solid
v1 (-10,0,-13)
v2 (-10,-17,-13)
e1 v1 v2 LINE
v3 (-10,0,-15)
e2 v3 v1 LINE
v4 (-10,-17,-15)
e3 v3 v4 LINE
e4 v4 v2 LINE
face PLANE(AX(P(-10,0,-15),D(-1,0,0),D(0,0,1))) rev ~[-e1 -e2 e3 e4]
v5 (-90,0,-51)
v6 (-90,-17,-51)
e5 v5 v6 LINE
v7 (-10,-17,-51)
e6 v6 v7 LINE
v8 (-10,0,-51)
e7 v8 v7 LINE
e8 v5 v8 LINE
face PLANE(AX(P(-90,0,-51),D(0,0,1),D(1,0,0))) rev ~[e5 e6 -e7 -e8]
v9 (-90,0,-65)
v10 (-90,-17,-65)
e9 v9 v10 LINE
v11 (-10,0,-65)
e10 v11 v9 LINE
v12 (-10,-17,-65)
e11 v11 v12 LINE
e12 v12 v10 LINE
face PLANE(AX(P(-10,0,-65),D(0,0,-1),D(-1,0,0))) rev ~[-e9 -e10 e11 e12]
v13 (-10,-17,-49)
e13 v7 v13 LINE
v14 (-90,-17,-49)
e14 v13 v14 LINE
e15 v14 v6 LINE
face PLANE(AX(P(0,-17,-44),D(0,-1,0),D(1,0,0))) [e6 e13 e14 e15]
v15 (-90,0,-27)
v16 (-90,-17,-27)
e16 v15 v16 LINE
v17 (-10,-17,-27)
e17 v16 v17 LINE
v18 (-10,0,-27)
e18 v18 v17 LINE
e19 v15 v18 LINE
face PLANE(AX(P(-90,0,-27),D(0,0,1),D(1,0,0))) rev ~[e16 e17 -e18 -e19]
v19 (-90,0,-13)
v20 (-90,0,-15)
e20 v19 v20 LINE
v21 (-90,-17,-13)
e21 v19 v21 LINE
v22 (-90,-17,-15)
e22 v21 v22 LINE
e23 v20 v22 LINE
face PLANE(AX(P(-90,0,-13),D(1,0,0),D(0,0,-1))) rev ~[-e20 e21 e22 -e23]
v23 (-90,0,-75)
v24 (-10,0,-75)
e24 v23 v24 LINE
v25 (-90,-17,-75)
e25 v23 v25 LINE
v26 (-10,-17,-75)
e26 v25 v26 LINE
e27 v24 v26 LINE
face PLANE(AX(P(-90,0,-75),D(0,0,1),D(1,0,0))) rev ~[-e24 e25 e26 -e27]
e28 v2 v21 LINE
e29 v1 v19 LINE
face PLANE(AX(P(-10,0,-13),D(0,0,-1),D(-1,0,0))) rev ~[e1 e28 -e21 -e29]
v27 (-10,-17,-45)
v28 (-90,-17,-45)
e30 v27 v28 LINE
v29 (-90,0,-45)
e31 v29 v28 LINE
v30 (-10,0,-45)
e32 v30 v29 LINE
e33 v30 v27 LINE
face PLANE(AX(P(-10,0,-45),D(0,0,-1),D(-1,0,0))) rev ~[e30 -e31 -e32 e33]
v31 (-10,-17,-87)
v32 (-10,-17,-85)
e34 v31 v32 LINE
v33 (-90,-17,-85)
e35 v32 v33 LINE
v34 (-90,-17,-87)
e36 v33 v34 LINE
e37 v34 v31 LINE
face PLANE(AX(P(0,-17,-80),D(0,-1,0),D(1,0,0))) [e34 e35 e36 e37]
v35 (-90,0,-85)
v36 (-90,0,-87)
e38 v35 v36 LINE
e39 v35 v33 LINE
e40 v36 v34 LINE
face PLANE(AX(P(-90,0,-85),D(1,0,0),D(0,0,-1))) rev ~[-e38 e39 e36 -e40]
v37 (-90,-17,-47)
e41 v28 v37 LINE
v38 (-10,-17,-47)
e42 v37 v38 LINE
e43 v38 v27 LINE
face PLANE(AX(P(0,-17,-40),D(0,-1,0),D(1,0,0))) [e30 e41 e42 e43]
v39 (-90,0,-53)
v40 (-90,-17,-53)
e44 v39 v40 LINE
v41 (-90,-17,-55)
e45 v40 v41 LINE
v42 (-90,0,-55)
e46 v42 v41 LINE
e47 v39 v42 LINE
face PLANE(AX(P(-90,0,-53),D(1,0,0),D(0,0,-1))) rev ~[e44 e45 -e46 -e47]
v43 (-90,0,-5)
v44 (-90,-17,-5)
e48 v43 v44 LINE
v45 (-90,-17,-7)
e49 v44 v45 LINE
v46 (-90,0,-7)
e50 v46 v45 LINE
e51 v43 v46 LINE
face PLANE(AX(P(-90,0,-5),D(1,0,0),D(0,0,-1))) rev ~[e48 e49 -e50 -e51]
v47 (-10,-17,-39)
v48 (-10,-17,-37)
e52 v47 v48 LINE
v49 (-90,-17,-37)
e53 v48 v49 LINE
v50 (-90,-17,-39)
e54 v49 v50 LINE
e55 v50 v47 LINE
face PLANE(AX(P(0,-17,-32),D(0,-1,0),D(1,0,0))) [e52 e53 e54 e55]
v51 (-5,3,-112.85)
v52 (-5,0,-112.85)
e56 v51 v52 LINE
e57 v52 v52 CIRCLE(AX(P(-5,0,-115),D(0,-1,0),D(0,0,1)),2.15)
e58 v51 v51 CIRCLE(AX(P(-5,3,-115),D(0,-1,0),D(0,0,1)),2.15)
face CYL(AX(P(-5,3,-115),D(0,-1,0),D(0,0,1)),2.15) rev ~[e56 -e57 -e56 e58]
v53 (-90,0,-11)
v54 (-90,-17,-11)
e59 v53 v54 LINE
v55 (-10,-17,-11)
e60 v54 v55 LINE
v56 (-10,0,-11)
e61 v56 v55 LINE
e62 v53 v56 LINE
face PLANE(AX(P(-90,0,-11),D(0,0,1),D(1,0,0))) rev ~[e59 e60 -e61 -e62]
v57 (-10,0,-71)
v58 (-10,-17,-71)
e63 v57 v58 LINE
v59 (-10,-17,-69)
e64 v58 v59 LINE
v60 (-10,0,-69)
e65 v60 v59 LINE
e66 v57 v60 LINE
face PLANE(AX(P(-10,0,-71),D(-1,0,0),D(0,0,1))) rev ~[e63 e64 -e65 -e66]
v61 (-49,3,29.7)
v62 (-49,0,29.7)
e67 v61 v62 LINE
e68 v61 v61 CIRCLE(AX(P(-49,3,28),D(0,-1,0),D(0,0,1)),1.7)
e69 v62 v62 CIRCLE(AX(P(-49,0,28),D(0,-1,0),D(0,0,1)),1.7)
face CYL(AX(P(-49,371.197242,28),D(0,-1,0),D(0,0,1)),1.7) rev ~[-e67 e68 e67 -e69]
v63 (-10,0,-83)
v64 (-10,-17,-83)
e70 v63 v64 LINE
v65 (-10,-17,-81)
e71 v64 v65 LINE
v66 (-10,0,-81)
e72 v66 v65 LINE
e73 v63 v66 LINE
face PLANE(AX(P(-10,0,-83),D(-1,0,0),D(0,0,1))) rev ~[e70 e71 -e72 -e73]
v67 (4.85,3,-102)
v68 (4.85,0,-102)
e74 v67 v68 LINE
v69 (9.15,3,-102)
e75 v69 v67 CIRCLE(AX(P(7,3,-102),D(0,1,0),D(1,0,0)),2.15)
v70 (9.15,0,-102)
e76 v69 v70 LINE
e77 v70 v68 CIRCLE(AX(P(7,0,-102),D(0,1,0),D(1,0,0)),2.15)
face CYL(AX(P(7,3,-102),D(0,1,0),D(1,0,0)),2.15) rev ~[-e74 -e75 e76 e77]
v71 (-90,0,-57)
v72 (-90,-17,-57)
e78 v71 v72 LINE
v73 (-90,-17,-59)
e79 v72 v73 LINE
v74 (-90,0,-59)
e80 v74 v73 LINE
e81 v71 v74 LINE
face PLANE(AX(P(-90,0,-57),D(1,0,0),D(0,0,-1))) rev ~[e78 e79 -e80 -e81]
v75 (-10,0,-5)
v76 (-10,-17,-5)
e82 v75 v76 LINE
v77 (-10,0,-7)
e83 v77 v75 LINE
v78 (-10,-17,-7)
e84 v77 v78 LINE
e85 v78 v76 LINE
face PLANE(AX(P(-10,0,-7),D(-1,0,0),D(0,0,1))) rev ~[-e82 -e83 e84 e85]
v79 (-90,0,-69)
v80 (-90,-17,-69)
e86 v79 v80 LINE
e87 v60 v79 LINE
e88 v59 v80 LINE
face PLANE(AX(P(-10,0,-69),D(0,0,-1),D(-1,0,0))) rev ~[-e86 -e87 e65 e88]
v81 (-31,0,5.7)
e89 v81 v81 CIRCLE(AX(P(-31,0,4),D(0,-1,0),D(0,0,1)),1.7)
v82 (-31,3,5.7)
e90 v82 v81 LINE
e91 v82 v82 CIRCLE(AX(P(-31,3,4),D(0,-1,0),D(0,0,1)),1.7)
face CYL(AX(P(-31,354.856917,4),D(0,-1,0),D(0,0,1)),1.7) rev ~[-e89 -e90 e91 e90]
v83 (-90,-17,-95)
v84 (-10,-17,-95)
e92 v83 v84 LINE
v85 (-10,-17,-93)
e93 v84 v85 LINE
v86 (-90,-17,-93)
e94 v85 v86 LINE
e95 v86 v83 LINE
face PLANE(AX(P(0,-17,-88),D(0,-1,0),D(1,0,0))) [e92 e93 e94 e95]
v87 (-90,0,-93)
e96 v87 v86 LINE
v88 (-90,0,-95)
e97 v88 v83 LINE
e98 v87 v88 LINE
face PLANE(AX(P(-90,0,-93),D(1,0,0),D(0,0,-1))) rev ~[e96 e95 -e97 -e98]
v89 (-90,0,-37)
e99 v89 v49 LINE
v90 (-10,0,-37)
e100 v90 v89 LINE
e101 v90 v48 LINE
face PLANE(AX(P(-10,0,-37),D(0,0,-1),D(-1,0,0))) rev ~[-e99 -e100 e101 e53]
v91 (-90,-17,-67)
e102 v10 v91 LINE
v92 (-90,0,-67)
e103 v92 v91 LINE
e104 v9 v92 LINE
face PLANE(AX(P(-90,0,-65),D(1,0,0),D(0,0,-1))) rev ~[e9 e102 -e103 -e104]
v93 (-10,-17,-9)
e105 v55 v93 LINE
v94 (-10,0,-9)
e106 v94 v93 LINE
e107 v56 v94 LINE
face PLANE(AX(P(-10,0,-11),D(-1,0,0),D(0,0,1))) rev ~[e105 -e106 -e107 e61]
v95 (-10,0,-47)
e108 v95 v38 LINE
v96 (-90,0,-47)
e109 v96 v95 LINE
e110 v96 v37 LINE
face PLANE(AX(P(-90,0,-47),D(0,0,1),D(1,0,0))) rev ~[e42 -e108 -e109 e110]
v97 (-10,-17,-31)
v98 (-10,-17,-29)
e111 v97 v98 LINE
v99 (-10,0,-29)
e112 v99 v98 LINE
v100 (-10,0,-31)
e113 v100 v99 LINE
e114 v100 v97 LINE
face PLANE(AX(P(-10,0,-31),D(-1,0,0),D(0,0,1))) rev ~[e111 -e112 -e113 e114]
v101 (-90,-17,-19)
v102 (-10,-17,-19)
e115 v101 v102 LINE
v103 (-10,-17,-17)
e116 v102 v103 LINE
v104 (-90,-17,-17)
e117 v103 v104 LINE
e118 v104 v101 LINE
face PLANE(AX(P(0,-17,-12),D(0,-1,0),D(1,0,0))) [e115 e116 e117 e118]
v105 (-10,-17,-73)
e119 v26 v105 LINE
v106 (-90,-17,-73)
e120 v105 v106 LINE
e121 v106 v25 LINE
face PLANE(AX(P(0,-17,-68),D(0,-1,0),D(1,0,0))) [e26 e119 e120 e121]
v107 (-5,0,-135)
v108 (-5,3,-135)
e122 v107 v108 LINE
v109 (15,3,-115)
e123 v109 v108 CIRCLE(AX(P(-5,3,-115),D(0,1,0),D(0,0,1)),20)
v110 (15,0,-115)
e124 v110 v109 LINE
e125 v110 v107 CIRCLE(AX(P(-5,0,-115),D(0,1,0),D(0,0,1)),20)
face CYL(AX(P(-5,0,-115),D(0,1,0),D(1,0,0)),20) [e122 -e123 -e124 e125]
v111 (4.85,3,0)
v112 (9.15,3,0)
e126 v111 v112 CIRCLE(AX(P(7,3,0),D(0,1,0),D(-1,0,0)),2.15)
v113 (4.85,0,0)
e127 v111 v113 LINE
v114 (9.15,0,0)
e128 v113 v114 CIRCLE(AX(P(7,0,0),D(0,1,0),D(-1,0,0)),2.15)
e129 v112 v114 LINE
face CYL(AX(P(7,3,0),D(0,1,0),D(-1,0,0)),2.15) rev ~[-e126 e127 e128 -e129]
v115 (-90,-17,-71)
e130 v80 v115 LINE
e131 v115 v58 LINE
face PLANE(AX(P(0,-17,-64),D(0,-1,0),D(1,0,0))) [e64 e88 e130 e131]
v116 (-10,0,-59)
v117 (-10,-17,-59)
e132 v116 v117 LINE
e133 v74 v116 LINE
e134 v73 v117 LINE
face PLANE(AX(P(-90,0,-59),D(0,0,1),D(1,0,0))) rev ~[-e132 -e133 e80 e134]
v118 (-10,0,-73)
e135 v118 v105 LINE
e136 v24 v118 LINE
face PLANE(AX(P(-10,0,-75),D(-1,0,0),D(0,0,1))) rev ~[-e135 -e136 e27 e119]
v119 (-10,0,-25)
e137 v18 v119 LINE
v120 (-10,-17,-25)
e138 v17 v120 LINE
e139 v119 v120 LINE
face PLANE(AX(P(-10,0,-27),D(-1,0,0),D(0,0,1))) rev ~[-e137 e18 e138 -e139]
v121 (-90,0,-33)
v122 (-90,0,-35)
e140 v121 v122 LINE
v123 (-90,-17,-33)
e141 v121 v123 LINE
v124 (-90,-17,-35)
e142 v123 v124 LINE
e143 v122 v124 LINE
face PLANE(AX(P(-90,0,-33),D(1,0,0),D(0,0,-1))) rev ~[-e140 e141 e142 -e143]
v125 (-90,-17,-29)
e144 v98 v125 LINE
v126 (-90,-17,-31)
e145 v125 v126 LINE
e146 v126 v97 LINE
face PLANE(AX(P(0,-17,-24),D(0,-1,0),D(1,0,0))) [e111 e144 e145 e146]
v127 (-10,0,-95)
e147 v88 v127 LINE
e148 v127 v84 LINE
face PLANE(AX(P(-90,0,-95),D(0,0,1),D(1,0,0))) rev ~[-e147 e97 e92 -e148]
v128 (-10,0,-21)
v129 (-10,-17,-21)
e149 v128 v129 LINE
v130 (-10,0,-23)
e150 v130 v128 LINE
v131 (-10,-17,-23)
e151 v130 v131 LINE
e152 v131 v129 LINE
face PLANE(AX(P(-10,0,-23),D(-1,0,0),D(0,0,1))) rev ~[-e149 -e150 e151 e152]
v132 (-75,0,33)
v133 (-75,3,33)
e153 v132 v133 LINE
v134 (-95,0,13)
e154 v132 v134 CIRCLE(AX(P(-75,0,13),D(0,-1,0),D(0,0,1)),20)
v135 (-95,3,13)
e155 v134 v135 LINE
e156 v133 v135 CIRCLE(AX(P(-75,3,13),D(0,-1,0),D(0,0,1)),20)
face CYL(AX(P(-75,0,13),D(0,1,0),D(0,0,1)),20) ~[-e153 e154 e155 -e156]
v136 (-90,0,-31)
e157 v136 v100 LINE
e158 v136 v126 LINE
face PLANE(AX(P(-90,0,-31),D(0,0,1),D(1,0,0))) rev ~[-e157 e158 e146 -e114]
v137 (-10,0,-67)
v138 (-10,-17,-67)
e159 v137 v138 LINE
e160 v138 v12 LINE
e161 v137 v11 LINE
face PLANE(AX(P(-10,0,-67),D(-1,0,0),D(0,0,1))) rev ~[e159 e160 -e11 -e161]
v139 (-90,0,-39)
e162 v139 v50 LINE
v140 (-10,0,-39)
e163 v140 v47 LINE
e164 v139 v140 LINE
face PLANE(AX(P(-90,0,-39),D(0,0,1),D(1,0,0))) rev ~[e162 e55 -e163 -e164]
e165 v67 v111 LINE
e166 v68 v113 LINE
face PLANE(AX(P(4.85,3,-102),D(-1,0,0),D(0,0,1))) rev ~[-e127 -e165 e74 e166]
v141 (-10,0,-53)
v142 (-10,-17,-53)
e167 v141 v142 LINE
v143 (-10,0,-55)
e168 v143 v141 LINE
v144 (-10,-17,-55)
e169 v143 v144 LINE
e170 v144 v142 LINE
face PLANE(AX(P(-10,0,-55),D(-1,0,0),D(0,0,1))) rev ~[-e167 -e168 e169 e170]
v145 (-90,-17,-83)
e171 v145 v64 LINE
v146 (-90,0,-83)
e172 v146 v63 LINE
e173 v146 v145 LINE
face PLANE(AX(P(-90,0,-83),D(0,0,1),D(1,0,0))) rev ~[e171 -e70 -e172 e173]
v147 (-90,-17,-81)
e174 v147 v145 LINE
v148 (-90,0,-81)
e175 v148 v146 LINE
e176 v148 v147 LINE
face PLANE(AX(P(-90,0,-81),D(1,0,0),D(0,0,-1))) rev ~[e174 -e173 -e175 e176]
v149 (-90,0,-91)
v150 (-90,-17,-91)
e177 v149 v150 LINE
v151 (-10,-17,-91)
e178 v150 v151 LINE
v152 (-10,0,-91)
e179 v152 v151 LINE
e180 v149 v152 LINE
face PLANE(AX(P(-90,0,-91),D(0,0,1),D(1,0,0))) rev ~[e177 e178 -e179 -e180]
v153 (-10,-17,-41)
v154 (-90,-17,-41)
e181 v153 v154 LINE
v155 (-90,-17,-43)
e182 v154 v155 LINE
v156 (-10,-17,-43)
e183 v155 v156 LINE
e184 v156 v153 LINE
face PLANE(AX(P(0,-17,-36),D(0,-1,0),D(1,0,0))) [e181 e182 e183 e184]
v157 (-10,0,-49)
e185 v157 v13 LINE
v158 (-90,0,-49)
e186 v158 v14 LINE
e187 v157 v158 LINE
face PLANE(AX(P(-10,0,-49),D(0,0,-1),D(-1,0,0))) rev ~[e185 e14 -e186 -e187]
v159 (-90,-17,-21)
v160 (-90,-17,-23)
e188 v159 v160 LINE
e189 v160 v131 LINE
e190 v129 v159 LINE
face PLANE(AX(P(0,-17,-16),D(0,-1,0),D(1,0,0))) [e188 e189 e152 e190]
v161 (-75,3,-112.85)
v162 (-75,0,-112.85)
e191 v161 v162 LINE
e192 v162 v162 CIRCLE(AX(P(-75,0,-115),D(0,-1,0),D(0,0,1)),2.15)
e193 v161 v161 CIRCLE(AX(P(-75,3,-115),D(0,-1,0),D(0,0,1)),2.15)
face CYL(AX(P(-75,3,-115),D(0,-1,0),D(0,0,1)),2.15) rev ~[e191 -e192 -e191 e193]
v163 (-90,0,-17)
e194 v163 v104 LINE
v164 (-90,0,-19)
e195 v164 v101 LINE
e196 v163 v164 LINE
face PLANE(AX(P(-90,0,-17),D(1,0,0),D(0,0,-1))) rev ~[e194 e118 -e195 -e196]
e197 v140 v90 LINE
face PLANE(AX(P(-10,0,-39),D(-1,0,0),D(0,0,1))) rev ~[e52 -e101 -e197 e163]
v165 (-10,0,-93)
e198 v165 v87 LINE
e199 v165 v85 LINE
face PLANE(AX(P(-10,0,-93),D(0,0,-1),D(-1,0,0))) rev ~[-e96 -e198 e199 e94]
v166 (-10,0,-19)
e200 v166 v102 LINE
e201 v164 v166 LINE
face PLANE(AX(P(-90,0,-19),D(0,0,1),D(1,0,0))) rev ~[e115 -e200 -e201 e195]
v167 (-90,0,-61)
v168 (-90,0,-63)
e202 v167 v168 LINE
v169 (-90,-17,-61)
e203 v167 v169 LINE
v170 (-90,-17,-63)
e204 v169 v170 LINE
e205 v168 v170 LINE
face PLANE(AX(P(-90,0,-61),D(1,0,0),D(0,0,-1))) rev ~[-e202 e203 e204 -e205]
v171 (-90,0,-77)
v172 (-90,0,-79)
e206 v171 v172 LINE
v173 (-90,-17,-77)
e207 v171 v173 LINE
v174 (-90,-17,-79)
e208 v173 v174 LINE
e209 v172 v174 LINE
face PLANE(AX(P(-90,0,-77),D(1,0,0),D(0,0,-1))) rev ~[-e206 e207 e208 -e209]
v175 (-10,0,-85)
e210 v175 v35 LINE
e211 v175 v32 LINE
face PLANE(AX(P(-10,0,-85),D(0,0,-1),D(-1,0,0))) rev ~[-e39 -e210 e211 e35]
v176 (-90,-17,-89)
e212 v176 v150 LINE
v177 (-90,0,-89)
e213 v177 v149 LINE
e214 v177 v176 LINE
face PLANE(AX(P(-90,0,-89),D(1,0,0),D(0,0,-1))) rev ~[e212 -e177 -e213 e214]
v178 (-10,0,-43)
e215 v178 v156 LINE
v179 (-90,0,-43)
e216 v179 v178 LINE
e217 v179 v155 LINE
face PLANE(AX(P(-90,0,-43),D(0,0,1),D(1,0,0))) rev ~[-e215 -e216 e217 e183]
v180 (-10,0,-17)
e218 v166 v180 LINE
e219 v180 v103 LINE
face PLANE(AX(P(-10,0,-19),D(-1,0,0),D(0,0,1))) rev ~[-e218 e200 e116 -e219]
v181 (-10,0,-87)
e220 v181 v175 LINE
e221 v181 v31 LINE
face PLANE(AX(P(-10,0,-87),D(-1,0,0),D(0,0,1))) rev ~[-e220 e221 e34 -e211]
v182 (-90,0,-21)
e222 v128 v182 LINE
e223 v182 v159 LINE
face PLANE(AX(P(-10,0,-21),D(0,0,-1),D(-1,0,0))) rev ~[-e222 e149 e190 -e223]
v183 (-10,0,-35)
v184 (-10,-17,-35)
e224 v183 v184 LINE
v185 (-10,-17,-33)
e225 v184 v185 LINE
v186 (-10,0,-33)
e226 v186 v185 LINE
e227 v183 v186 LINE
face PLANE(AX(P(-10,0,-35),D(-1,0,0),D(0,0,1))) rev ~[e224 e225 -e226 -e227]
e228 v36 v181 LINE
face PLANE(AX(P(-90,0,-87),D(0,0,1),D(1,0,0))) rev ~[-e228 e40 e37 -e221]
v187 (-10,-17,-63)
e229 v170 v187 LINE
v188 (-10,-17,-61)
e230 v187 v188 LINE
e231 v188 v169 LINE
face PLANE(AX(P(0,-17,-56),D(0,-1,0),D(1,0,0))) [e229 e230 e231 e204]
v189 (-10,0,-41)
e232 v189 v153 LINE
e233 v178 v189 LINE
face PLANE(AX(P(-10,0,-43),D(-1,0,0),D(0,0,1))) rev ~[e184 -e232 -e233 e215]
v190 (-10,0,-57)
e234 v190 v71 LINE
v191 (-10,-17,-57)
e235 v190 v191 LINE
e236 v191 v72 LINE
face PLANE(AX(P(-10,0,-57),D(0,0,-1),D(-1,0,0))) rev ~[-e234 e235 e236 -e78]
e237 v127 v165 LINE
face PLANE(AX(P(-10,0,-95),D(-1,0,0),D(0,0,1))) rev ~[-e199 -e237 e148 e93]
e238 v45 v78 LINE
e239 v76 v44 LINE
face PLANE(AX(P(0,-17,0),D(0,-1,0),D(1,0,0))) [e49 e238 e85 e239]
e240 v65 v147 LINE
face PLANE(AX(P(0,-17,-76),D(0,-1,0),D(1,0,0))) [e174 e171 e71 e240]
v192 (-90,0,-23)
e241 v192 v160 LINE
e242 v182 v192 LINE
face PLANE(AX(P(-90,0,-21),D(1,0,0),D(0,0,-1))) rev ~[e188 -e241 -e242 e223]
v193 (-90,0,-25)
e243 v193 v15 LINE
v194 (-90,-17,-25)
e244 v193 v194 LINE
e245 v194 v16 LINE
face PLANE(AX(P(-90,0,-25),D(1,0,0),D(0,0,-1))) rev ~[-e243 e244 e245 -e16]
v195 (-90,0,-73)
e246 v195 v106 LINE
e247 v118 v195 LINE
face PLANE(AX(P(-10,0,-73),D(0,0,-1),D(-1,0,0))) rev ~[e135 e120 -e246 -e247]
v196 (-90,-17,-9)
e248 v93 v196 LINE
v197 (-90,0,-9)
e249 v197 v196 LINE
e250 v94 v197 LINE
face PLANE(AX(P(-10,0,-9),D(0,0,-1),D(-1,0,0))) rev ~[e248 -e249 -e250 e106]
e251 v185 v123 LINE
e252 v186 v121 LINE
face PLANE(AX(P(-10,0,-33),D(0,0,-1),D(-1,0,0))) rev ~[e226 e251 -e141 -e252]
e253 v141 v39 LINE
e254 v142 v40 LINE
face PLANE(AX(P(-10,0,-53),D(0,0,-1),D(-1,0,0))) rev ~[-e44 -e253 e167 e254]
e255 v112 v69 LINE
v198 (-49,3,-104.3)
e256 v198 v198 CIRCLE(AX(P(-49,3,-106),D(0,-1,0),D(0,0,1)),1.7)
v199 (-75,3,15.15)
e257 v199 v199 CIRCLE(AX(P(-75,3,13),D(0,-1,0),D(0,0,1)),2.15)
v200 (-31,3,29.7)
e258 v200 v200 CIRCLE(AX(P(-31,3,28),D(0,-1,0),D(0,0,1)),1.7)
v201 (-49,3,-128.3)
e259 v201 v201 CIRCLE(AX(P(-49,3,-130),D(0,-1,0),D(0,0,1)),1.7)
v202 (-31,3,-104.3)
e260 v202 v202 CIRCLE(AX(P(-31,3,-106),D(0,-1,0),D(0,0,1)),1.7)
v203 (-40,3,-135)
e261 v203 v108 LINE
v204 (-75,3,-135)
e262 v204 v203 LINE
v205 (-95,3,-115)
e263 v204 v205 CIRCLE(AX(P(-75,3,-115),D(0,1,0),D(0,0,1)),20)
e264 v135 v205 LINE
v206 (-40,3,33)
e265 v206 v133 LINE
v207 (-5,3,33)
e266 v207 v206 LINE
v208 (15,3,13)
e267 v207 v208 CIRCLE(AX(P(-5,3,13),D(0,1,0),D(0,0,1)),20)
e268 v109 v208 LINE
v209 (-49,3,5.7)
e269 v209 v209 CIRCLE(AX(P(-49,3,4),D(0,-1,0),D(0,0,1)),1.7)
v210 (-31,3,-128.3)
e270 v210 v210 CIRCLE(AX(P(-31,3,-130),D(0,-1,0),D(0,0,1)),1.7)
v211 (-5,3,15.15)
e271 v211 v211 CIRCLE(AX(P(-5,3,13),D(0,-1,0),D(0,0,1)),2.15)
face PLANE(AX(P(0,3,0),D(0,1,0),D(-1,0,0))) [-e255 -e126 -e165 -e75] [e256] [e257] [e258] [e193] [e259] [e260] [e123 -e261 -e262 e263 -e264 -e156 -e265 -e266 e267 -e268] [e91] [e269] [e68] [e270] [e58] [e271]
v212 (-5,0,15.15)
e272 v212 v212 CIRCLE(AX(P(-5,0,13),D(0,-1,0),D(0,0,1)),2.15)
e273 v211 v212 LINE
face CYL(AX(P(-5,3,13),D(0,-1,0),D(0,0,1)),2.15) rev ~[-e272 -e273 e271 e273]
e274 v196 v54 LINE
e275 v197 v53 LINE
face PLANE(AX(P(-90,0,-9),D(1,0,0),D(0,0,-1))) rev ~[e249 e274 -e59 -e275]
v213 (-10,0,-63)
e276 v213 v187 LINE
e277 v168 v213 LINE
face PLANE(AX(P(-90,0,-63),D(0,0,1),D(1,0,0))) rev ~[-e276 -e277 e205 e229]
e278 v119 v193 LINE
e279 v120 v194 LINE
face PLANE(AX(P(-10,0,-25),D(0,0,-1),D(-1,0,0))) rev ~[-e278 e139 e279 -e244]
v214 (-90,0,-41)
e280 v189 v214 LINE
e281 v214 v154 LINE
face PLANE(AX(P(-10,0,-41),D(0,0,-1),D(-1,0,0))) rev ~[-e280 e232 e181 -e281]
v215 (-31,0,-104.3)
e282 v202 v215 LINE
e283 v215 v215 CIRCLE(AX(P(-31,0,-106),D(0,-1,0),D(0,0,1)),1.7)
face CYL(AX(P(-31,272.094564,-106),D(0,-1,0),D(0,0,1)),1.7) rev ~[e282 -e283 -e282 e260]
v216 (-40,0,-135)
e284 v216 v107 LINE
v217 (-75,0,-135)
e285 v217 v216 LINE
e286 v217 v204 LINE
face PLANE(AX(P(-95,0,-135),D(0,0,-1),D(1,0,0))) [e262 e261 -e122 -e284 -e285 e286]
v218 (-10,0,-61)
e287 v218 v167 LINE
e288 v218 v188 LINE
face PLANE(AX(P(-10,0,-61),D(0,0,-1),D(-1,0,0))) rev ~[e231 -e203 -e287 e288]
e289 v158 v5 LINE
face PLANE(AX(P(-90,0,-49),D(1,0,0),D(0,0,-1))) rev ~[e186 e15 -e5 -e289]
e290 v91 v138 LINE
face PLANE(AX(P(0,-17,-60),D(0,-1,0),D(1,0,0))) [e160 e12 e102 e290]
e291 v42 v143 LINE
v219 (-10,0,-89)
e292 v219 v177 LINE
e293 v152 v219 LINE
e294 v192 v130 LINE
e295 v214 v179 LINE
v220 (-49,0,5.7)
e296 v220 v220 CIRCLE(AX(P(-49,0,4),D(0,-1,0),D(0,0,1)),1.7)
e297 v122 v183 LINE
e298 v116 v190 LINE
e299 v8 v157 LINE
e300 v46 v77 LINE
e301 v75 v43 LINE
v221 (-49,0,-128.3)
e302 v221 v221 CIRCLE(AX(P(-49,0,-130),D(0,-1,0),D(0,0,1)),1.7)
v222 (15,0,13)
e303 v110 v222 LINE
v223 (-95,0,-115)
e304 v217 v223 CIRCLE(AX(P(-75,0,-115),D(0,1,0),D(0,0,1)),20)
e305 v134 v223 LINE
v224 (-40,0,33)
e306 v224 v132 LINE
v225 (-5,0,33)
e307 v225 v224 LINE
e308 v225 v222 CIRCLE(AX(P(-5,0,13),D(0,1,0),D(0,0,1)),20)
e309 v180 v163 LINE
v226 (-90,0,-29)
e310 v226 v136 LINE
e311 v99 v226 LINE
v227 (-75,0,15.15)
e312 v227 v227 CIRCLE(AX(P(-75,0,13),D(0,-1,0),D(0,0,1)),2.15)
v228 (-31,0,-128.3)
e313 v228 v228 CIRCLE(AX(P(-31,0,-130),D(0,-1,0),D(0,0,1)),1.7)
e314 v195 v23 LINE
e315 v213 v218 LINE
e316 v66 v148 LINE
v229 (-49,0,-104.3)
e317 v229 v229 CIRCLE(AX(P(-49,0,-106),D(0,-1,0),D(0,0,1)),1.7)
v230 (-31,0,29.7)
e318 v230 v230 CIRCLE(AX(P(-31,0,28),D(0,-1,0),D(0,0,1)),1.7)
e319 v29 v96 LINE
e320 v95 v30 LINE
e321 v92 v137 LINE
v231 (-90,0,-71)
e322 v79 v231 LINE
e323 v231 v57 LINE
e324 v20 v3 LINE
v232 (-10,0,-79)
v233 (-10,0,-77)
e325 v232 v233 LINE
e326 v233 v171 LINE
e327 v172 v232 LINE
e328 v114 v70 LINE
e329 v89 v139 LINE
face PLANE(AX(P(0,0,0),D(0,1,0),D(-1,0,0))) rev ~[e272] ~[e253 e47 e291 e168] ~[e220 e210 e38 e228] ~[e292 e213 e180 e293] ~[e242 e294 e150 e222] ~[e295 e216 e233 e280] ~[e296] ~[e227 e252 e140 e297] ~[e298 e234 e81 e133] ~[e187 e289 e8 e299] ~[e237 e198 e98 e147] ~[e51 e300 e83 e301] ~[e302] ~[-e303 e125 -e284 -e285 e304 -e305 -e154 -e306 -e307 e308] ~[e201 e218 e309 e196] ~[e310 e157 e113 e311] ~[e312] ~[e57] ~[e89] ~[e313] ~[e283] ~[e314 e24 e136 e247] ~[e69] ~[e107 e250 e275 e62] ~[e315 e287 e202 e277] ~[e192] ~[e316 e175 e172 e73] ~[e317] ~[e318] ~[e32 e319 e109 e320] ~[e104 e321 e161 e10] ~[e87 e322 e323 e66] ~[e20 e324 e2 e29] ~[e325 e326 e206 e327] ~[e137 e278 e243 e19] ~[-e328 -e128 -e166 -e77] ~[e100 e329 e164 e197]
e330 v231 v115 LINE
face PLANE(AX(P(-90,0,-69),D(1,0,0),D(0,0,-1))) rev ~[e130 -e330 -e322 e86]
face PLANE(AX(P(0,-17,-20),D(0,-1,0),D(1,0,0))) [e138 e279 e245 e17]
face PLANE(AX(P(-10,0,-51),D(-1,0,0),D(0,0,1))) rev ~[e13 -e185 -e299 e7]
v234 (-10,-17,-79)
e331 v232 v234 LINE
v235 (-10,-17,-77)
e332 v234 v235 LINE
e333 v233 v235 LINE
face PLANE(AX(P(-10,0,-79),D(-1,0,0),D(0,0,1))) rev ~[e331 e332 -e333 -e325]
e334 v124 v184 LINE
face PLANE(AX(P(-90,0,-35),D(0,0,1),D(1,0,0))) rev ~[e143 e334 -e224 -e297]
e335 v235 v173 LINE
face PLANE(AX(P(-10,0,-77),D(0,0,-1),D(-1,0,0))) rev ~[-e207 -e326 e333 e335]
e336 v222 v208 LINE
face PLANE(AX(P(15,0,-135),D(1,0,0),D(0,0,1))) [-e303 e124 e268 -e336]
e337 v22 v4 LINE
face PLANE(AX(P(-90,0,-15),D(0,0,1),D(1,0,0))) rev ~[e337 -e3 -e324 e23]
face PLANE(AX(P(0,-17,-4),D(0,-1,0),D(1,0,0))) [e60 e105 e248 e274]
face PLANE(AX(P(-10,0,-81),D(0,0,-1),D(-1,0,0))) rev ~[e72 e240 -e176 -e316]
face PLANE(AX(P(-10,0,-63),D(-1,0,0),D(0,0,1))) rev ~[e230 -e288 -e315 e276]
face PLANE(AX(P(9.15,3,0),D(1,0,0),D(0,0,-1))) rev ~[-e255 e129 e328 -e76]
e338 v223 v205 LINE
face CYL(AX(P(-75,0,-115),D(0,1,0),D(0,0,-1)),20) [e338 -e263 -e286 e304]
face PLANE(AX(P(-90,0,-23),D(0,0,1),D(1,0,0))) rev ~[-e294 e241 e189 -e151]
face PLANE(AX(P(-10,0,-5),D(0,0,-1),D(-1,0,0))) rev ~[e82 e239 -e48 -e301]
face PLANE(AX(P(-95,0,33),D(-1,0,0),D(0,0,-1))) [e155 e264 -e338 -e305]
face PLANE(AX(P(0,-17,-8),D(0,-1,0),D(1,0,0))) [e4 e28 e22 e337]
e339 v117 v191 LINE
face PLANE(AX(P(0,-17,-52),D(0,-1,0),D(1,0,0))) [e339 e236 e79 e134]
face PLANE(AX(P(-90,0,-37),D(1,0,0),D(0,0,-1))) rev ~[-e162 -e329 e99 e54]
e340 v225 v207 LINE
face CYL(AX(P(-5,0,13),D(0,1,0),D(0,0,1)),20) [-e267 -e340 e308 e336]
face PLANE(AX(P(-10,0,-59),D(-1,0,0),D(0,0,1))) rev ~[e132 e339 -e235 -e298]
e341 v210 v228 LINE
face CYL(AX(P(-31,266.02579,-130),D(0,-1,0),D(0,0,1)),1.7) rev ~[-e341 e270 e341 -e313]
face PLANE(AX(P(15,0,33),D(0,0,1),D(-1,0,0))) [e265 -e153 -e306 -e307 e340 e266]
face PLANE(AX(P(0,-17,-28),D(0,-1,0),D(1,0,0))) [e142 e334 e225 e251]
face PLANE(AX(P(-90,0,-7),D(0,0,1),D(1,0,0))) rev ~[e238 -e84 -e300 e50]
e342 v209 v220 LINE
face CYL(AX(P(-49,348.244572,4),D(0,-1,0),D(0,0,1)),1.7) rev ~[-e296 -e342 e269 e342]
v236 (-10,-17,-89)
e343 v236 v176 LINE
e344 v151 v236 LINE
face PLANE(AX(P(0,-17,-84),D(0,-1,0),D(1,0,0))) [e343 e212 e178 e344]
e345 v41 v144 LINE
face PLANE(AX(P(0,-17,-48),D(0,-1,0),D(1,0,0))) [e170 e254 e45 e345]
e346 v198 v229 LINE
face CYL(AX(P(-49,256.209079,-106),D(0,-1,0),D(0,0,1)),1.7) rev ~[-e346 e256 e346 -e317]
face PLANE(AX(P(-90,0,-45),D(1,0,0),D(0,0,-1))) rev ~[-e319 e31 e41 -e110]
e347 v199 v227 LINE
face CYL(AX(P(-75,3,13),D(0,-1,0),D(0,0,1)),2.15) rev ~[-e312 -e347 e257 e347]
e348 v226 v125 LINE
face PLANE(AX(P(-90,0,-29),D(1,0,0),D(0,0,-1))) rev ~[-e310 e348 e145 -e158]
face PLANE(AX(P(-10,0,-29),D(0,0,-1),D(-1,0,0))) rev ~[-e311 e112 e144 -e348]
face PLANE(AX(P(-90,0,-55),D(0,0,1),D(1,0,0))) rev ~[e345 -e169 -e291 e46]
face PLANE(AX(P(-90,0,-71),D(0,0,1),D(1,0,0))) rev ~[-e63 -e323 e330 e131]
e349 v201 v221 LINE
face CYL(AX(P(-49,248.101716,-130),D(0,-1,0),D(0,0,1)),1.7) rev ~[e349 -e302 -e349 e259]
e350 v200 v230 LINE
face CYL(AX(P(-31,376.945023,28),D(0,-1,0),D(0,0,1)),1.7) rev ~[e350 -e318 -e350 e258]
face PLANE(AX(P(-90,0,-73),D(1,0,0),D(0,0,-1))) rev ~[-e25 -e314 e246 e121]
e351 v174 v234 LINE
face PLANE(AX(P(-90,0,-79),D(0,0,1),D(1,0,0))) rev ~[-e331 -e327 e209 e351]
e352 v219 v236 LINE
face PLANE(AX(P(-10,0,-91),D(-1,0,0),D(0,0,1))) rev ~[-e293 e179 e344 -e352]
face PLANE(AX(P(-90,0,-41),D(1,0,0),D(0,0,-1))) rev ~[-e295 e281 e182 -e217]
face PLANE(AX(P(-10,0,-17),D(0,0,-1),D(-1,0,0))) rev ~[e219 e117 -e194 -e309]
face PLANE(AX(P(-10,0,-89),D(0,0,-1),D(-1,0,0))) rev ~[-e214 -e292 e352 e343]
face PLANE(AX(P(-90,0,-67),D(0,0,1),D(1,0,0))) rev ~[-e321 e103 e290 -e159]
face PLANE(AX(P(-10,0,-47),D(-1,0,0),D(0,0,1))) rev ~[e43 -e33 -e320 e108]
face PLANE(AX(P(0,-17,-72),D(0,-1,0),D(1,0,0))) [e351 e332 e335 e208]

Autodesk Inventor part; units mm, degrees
sketch "Sketch1" plane through (0, 0, 0) normal (0, 1, 0) x (-1, 0, 0)
  line L0 (-15, 33) -> (95, 33)
  line L1 (95, 33) -> (95, -135)
  line L2 (95, -135) -> (-15, -135)
  line L3 (-15, -135) -> (-15, 33)
  line L4 (95, 33) -> (95, 15)
  line L5 (-15, 33) -> (-15, 13)
  line L6 (95, -135) -> (95, -115)
  line L7 (-15, -135) -> (-15, -115)
  line L8 (40, -135) -> (40, -130)
  line L9 (31, -130) -> (49, -130)
  line L10 (49, -130) -> (49, -106)
  line L11 (49, -106) -> (31, -106)
  line L12 (31, -106) -> (31, -130)
  line L13 (40, 33) -> (40, 28)
  line L14 (31, 28) -> (49, 28)
  line L15 (49, 28) -> (49, 4)
  line L16 (49, 4) -> (31, 4)
  line L17 (31, 4) -> (31, 28)
  point P0 (0, 0)
  point P1 (47.5, 33)
  point P2 (12.5, 33)
  point P3 (67.5, -135)
  point P4 (32.5, -135)
  dimension "d4" = 110
  dimension "d5" = 168
  dimension "d22" = 5
  dimension "d23" = 18
  dimension "d24" = 24
  dimension "d25" = 5
  dimension "d26" = 18
  dimension "d27" = 24
extrude "Extrusion2" add sketch "Sketch1" along normal blind 3 contours L9 L12 L11 L10 | L14 L15 L16 L17 | L0 L1 L2 L3
hole "Hole1" at (-49, 0, 28) at (-49, 0, 4) at (-31, 0, 28) at (-31, 0, 4) at (-49, 0, -130) at (-31, 0, -130) at (-31, 0, -106) at (-49, 0, -106) direction (0, -1, 0) diameter 3.4 end through all both
fillet "Fillet1" radius 20 4 edges at (15, 1.5, 33) (-95, 1.5, 33) (15, 1.5, -135) (-95, 1.5, -135)
ref_plane "Work Plane1" through (-75, 0, -51) normal (0, 0, 1) x (1, 0, 0)
ref_plane "Work Plane2" through (-40, 0, 13) normal (1, 0, 0) x (0, 0, -1)
sketch "Sketch2" plane through (0, 3, 0) normal (0, 1, 0) x (1, 0, 0)
  arc A0 (-95, -13) -> (-75, -33) centre (-75, -13) ccw projected
  line L0 (-95, -33) -> (-95, -13)
  line L1 (-75, -33) -> (-5, -33) projected
  line L2 (-95, -33) -> (-75, -33)
  line L3 (-75, -33) -> (-75, -13)
  line L4 (-75, -13) -> (-95, -13)
  arc A1 (-5, -33) -> (15, -13) centre (-5, -13) ccw projected
  line L5 (15, -33) -> (-5, -33)
  line L6 (15, -33) -> (15, -13)
  line L7 (-5, -33) -> (-5, -13)
  line L8 (-5, -13) -> (15, -13)
  arc A2 (15, 115) -> (-5, 135) centre (-5, 115) ccw projected
  line L9 (15, 135) -> (15, 115)
  line L10 (15, 135) -> (-5, 135)
  line L11 (-5, 135) -> (-5, 115)
  line L12 (-5, 115) -> (15, 115)
  arc A3 (-75, 135) -> (-95, 115) centre (-75, 115) ccw projected
  line L13 (-95, 135) -> (-95, 115)
  line L14 (-95, 135) -> (-75, 135)
  line L15 (-95, 115) -> (-95, -13) projected
  line L16 (-95, 115) -> (-75, 115)
  line L17 (-75, 115) -> (-75, 135)
  point P0 (0, 0)
hole "Hole2" at (-75, 3, 13) at (-75, 3, -115) at (-5, 3, -115) at (-5, 3, 13) direction (0, -1, 0) diameter 4.3 end through all
sketch "Sketch4" plane through (0, 3, 0) normal (0, 1, 0) x (1, 0, 0)
  line L0 (15, -13) -> (15, 115) projected
  line L1 (15, 0) -> (7, 0)
  line L2 (-95, 115) -> (-95, -13) projected
  line L3 (15, 0) -> (15, 102)
  line L4 (15, 102) -> (7, 102)
  line L5 (7, 0) -> (7, 102)
  line L6 (7, 0) -> (7, 102) construction
  line L7 (9.15, 0) -> (9.15, 102)
  line L8 (4.85, 102) -> (4.85, 0)
  arc A0 (4.85, 0) -> (9.15, 0) centre (7, 0) ccw
  arc A1 (9.15, 102) -> (4.85, 102) centre (7, 102) ccw
  point P0 (0, 0)
  point P1 (7, 51)
  dimension "d45" = 8
  dimension "d46" = 102
  dimension "d47" = 8
  dimension "d48" = 4.3
extrude "Extrusion3" cut sketch "Sketch4" against normal through all contours A0 L8 A1 L4 L5 L1 | L1 L5 L4 L7
ref_plane "Work Plane3" through (7, 3, -104.15) normal (1, 0, 0) x (0, 0, -1)
sketch "Sketch5" plane through (0, 0, 0) normal (0, -1, 0) x (1, 0, 0)
  line L0 (0, 0) -> (0, -5)
  line L1 (0, -5) -> (-95, -5)
  line L2 (-95, -115) -> (-95, 13) projected
  line L3 (-95, -5) -> (-95, -7)
  line L4 (-95, -7) -> (-10, -7)
  line L5 (-10, -7) -> (-10, -5)
  line L6 (-95, -5) -> (-90, -5)
  line L7 (-90, -5) -> (-90, -7)
  dimension "d51" = 5
  dimension "d52" = 2
  dimension "d53" = 85
  dimension "d54" = 5
extrude "Extrusion4" add sketch "Sketch5" along normal blind 17 contours L5 L4 L7 L1
pattern_linear "Rectangular Pattern1" count 23 spacing 4 along (0, 0, -1) of "Extrusion4"
properties part number "BedHousingFrame"
